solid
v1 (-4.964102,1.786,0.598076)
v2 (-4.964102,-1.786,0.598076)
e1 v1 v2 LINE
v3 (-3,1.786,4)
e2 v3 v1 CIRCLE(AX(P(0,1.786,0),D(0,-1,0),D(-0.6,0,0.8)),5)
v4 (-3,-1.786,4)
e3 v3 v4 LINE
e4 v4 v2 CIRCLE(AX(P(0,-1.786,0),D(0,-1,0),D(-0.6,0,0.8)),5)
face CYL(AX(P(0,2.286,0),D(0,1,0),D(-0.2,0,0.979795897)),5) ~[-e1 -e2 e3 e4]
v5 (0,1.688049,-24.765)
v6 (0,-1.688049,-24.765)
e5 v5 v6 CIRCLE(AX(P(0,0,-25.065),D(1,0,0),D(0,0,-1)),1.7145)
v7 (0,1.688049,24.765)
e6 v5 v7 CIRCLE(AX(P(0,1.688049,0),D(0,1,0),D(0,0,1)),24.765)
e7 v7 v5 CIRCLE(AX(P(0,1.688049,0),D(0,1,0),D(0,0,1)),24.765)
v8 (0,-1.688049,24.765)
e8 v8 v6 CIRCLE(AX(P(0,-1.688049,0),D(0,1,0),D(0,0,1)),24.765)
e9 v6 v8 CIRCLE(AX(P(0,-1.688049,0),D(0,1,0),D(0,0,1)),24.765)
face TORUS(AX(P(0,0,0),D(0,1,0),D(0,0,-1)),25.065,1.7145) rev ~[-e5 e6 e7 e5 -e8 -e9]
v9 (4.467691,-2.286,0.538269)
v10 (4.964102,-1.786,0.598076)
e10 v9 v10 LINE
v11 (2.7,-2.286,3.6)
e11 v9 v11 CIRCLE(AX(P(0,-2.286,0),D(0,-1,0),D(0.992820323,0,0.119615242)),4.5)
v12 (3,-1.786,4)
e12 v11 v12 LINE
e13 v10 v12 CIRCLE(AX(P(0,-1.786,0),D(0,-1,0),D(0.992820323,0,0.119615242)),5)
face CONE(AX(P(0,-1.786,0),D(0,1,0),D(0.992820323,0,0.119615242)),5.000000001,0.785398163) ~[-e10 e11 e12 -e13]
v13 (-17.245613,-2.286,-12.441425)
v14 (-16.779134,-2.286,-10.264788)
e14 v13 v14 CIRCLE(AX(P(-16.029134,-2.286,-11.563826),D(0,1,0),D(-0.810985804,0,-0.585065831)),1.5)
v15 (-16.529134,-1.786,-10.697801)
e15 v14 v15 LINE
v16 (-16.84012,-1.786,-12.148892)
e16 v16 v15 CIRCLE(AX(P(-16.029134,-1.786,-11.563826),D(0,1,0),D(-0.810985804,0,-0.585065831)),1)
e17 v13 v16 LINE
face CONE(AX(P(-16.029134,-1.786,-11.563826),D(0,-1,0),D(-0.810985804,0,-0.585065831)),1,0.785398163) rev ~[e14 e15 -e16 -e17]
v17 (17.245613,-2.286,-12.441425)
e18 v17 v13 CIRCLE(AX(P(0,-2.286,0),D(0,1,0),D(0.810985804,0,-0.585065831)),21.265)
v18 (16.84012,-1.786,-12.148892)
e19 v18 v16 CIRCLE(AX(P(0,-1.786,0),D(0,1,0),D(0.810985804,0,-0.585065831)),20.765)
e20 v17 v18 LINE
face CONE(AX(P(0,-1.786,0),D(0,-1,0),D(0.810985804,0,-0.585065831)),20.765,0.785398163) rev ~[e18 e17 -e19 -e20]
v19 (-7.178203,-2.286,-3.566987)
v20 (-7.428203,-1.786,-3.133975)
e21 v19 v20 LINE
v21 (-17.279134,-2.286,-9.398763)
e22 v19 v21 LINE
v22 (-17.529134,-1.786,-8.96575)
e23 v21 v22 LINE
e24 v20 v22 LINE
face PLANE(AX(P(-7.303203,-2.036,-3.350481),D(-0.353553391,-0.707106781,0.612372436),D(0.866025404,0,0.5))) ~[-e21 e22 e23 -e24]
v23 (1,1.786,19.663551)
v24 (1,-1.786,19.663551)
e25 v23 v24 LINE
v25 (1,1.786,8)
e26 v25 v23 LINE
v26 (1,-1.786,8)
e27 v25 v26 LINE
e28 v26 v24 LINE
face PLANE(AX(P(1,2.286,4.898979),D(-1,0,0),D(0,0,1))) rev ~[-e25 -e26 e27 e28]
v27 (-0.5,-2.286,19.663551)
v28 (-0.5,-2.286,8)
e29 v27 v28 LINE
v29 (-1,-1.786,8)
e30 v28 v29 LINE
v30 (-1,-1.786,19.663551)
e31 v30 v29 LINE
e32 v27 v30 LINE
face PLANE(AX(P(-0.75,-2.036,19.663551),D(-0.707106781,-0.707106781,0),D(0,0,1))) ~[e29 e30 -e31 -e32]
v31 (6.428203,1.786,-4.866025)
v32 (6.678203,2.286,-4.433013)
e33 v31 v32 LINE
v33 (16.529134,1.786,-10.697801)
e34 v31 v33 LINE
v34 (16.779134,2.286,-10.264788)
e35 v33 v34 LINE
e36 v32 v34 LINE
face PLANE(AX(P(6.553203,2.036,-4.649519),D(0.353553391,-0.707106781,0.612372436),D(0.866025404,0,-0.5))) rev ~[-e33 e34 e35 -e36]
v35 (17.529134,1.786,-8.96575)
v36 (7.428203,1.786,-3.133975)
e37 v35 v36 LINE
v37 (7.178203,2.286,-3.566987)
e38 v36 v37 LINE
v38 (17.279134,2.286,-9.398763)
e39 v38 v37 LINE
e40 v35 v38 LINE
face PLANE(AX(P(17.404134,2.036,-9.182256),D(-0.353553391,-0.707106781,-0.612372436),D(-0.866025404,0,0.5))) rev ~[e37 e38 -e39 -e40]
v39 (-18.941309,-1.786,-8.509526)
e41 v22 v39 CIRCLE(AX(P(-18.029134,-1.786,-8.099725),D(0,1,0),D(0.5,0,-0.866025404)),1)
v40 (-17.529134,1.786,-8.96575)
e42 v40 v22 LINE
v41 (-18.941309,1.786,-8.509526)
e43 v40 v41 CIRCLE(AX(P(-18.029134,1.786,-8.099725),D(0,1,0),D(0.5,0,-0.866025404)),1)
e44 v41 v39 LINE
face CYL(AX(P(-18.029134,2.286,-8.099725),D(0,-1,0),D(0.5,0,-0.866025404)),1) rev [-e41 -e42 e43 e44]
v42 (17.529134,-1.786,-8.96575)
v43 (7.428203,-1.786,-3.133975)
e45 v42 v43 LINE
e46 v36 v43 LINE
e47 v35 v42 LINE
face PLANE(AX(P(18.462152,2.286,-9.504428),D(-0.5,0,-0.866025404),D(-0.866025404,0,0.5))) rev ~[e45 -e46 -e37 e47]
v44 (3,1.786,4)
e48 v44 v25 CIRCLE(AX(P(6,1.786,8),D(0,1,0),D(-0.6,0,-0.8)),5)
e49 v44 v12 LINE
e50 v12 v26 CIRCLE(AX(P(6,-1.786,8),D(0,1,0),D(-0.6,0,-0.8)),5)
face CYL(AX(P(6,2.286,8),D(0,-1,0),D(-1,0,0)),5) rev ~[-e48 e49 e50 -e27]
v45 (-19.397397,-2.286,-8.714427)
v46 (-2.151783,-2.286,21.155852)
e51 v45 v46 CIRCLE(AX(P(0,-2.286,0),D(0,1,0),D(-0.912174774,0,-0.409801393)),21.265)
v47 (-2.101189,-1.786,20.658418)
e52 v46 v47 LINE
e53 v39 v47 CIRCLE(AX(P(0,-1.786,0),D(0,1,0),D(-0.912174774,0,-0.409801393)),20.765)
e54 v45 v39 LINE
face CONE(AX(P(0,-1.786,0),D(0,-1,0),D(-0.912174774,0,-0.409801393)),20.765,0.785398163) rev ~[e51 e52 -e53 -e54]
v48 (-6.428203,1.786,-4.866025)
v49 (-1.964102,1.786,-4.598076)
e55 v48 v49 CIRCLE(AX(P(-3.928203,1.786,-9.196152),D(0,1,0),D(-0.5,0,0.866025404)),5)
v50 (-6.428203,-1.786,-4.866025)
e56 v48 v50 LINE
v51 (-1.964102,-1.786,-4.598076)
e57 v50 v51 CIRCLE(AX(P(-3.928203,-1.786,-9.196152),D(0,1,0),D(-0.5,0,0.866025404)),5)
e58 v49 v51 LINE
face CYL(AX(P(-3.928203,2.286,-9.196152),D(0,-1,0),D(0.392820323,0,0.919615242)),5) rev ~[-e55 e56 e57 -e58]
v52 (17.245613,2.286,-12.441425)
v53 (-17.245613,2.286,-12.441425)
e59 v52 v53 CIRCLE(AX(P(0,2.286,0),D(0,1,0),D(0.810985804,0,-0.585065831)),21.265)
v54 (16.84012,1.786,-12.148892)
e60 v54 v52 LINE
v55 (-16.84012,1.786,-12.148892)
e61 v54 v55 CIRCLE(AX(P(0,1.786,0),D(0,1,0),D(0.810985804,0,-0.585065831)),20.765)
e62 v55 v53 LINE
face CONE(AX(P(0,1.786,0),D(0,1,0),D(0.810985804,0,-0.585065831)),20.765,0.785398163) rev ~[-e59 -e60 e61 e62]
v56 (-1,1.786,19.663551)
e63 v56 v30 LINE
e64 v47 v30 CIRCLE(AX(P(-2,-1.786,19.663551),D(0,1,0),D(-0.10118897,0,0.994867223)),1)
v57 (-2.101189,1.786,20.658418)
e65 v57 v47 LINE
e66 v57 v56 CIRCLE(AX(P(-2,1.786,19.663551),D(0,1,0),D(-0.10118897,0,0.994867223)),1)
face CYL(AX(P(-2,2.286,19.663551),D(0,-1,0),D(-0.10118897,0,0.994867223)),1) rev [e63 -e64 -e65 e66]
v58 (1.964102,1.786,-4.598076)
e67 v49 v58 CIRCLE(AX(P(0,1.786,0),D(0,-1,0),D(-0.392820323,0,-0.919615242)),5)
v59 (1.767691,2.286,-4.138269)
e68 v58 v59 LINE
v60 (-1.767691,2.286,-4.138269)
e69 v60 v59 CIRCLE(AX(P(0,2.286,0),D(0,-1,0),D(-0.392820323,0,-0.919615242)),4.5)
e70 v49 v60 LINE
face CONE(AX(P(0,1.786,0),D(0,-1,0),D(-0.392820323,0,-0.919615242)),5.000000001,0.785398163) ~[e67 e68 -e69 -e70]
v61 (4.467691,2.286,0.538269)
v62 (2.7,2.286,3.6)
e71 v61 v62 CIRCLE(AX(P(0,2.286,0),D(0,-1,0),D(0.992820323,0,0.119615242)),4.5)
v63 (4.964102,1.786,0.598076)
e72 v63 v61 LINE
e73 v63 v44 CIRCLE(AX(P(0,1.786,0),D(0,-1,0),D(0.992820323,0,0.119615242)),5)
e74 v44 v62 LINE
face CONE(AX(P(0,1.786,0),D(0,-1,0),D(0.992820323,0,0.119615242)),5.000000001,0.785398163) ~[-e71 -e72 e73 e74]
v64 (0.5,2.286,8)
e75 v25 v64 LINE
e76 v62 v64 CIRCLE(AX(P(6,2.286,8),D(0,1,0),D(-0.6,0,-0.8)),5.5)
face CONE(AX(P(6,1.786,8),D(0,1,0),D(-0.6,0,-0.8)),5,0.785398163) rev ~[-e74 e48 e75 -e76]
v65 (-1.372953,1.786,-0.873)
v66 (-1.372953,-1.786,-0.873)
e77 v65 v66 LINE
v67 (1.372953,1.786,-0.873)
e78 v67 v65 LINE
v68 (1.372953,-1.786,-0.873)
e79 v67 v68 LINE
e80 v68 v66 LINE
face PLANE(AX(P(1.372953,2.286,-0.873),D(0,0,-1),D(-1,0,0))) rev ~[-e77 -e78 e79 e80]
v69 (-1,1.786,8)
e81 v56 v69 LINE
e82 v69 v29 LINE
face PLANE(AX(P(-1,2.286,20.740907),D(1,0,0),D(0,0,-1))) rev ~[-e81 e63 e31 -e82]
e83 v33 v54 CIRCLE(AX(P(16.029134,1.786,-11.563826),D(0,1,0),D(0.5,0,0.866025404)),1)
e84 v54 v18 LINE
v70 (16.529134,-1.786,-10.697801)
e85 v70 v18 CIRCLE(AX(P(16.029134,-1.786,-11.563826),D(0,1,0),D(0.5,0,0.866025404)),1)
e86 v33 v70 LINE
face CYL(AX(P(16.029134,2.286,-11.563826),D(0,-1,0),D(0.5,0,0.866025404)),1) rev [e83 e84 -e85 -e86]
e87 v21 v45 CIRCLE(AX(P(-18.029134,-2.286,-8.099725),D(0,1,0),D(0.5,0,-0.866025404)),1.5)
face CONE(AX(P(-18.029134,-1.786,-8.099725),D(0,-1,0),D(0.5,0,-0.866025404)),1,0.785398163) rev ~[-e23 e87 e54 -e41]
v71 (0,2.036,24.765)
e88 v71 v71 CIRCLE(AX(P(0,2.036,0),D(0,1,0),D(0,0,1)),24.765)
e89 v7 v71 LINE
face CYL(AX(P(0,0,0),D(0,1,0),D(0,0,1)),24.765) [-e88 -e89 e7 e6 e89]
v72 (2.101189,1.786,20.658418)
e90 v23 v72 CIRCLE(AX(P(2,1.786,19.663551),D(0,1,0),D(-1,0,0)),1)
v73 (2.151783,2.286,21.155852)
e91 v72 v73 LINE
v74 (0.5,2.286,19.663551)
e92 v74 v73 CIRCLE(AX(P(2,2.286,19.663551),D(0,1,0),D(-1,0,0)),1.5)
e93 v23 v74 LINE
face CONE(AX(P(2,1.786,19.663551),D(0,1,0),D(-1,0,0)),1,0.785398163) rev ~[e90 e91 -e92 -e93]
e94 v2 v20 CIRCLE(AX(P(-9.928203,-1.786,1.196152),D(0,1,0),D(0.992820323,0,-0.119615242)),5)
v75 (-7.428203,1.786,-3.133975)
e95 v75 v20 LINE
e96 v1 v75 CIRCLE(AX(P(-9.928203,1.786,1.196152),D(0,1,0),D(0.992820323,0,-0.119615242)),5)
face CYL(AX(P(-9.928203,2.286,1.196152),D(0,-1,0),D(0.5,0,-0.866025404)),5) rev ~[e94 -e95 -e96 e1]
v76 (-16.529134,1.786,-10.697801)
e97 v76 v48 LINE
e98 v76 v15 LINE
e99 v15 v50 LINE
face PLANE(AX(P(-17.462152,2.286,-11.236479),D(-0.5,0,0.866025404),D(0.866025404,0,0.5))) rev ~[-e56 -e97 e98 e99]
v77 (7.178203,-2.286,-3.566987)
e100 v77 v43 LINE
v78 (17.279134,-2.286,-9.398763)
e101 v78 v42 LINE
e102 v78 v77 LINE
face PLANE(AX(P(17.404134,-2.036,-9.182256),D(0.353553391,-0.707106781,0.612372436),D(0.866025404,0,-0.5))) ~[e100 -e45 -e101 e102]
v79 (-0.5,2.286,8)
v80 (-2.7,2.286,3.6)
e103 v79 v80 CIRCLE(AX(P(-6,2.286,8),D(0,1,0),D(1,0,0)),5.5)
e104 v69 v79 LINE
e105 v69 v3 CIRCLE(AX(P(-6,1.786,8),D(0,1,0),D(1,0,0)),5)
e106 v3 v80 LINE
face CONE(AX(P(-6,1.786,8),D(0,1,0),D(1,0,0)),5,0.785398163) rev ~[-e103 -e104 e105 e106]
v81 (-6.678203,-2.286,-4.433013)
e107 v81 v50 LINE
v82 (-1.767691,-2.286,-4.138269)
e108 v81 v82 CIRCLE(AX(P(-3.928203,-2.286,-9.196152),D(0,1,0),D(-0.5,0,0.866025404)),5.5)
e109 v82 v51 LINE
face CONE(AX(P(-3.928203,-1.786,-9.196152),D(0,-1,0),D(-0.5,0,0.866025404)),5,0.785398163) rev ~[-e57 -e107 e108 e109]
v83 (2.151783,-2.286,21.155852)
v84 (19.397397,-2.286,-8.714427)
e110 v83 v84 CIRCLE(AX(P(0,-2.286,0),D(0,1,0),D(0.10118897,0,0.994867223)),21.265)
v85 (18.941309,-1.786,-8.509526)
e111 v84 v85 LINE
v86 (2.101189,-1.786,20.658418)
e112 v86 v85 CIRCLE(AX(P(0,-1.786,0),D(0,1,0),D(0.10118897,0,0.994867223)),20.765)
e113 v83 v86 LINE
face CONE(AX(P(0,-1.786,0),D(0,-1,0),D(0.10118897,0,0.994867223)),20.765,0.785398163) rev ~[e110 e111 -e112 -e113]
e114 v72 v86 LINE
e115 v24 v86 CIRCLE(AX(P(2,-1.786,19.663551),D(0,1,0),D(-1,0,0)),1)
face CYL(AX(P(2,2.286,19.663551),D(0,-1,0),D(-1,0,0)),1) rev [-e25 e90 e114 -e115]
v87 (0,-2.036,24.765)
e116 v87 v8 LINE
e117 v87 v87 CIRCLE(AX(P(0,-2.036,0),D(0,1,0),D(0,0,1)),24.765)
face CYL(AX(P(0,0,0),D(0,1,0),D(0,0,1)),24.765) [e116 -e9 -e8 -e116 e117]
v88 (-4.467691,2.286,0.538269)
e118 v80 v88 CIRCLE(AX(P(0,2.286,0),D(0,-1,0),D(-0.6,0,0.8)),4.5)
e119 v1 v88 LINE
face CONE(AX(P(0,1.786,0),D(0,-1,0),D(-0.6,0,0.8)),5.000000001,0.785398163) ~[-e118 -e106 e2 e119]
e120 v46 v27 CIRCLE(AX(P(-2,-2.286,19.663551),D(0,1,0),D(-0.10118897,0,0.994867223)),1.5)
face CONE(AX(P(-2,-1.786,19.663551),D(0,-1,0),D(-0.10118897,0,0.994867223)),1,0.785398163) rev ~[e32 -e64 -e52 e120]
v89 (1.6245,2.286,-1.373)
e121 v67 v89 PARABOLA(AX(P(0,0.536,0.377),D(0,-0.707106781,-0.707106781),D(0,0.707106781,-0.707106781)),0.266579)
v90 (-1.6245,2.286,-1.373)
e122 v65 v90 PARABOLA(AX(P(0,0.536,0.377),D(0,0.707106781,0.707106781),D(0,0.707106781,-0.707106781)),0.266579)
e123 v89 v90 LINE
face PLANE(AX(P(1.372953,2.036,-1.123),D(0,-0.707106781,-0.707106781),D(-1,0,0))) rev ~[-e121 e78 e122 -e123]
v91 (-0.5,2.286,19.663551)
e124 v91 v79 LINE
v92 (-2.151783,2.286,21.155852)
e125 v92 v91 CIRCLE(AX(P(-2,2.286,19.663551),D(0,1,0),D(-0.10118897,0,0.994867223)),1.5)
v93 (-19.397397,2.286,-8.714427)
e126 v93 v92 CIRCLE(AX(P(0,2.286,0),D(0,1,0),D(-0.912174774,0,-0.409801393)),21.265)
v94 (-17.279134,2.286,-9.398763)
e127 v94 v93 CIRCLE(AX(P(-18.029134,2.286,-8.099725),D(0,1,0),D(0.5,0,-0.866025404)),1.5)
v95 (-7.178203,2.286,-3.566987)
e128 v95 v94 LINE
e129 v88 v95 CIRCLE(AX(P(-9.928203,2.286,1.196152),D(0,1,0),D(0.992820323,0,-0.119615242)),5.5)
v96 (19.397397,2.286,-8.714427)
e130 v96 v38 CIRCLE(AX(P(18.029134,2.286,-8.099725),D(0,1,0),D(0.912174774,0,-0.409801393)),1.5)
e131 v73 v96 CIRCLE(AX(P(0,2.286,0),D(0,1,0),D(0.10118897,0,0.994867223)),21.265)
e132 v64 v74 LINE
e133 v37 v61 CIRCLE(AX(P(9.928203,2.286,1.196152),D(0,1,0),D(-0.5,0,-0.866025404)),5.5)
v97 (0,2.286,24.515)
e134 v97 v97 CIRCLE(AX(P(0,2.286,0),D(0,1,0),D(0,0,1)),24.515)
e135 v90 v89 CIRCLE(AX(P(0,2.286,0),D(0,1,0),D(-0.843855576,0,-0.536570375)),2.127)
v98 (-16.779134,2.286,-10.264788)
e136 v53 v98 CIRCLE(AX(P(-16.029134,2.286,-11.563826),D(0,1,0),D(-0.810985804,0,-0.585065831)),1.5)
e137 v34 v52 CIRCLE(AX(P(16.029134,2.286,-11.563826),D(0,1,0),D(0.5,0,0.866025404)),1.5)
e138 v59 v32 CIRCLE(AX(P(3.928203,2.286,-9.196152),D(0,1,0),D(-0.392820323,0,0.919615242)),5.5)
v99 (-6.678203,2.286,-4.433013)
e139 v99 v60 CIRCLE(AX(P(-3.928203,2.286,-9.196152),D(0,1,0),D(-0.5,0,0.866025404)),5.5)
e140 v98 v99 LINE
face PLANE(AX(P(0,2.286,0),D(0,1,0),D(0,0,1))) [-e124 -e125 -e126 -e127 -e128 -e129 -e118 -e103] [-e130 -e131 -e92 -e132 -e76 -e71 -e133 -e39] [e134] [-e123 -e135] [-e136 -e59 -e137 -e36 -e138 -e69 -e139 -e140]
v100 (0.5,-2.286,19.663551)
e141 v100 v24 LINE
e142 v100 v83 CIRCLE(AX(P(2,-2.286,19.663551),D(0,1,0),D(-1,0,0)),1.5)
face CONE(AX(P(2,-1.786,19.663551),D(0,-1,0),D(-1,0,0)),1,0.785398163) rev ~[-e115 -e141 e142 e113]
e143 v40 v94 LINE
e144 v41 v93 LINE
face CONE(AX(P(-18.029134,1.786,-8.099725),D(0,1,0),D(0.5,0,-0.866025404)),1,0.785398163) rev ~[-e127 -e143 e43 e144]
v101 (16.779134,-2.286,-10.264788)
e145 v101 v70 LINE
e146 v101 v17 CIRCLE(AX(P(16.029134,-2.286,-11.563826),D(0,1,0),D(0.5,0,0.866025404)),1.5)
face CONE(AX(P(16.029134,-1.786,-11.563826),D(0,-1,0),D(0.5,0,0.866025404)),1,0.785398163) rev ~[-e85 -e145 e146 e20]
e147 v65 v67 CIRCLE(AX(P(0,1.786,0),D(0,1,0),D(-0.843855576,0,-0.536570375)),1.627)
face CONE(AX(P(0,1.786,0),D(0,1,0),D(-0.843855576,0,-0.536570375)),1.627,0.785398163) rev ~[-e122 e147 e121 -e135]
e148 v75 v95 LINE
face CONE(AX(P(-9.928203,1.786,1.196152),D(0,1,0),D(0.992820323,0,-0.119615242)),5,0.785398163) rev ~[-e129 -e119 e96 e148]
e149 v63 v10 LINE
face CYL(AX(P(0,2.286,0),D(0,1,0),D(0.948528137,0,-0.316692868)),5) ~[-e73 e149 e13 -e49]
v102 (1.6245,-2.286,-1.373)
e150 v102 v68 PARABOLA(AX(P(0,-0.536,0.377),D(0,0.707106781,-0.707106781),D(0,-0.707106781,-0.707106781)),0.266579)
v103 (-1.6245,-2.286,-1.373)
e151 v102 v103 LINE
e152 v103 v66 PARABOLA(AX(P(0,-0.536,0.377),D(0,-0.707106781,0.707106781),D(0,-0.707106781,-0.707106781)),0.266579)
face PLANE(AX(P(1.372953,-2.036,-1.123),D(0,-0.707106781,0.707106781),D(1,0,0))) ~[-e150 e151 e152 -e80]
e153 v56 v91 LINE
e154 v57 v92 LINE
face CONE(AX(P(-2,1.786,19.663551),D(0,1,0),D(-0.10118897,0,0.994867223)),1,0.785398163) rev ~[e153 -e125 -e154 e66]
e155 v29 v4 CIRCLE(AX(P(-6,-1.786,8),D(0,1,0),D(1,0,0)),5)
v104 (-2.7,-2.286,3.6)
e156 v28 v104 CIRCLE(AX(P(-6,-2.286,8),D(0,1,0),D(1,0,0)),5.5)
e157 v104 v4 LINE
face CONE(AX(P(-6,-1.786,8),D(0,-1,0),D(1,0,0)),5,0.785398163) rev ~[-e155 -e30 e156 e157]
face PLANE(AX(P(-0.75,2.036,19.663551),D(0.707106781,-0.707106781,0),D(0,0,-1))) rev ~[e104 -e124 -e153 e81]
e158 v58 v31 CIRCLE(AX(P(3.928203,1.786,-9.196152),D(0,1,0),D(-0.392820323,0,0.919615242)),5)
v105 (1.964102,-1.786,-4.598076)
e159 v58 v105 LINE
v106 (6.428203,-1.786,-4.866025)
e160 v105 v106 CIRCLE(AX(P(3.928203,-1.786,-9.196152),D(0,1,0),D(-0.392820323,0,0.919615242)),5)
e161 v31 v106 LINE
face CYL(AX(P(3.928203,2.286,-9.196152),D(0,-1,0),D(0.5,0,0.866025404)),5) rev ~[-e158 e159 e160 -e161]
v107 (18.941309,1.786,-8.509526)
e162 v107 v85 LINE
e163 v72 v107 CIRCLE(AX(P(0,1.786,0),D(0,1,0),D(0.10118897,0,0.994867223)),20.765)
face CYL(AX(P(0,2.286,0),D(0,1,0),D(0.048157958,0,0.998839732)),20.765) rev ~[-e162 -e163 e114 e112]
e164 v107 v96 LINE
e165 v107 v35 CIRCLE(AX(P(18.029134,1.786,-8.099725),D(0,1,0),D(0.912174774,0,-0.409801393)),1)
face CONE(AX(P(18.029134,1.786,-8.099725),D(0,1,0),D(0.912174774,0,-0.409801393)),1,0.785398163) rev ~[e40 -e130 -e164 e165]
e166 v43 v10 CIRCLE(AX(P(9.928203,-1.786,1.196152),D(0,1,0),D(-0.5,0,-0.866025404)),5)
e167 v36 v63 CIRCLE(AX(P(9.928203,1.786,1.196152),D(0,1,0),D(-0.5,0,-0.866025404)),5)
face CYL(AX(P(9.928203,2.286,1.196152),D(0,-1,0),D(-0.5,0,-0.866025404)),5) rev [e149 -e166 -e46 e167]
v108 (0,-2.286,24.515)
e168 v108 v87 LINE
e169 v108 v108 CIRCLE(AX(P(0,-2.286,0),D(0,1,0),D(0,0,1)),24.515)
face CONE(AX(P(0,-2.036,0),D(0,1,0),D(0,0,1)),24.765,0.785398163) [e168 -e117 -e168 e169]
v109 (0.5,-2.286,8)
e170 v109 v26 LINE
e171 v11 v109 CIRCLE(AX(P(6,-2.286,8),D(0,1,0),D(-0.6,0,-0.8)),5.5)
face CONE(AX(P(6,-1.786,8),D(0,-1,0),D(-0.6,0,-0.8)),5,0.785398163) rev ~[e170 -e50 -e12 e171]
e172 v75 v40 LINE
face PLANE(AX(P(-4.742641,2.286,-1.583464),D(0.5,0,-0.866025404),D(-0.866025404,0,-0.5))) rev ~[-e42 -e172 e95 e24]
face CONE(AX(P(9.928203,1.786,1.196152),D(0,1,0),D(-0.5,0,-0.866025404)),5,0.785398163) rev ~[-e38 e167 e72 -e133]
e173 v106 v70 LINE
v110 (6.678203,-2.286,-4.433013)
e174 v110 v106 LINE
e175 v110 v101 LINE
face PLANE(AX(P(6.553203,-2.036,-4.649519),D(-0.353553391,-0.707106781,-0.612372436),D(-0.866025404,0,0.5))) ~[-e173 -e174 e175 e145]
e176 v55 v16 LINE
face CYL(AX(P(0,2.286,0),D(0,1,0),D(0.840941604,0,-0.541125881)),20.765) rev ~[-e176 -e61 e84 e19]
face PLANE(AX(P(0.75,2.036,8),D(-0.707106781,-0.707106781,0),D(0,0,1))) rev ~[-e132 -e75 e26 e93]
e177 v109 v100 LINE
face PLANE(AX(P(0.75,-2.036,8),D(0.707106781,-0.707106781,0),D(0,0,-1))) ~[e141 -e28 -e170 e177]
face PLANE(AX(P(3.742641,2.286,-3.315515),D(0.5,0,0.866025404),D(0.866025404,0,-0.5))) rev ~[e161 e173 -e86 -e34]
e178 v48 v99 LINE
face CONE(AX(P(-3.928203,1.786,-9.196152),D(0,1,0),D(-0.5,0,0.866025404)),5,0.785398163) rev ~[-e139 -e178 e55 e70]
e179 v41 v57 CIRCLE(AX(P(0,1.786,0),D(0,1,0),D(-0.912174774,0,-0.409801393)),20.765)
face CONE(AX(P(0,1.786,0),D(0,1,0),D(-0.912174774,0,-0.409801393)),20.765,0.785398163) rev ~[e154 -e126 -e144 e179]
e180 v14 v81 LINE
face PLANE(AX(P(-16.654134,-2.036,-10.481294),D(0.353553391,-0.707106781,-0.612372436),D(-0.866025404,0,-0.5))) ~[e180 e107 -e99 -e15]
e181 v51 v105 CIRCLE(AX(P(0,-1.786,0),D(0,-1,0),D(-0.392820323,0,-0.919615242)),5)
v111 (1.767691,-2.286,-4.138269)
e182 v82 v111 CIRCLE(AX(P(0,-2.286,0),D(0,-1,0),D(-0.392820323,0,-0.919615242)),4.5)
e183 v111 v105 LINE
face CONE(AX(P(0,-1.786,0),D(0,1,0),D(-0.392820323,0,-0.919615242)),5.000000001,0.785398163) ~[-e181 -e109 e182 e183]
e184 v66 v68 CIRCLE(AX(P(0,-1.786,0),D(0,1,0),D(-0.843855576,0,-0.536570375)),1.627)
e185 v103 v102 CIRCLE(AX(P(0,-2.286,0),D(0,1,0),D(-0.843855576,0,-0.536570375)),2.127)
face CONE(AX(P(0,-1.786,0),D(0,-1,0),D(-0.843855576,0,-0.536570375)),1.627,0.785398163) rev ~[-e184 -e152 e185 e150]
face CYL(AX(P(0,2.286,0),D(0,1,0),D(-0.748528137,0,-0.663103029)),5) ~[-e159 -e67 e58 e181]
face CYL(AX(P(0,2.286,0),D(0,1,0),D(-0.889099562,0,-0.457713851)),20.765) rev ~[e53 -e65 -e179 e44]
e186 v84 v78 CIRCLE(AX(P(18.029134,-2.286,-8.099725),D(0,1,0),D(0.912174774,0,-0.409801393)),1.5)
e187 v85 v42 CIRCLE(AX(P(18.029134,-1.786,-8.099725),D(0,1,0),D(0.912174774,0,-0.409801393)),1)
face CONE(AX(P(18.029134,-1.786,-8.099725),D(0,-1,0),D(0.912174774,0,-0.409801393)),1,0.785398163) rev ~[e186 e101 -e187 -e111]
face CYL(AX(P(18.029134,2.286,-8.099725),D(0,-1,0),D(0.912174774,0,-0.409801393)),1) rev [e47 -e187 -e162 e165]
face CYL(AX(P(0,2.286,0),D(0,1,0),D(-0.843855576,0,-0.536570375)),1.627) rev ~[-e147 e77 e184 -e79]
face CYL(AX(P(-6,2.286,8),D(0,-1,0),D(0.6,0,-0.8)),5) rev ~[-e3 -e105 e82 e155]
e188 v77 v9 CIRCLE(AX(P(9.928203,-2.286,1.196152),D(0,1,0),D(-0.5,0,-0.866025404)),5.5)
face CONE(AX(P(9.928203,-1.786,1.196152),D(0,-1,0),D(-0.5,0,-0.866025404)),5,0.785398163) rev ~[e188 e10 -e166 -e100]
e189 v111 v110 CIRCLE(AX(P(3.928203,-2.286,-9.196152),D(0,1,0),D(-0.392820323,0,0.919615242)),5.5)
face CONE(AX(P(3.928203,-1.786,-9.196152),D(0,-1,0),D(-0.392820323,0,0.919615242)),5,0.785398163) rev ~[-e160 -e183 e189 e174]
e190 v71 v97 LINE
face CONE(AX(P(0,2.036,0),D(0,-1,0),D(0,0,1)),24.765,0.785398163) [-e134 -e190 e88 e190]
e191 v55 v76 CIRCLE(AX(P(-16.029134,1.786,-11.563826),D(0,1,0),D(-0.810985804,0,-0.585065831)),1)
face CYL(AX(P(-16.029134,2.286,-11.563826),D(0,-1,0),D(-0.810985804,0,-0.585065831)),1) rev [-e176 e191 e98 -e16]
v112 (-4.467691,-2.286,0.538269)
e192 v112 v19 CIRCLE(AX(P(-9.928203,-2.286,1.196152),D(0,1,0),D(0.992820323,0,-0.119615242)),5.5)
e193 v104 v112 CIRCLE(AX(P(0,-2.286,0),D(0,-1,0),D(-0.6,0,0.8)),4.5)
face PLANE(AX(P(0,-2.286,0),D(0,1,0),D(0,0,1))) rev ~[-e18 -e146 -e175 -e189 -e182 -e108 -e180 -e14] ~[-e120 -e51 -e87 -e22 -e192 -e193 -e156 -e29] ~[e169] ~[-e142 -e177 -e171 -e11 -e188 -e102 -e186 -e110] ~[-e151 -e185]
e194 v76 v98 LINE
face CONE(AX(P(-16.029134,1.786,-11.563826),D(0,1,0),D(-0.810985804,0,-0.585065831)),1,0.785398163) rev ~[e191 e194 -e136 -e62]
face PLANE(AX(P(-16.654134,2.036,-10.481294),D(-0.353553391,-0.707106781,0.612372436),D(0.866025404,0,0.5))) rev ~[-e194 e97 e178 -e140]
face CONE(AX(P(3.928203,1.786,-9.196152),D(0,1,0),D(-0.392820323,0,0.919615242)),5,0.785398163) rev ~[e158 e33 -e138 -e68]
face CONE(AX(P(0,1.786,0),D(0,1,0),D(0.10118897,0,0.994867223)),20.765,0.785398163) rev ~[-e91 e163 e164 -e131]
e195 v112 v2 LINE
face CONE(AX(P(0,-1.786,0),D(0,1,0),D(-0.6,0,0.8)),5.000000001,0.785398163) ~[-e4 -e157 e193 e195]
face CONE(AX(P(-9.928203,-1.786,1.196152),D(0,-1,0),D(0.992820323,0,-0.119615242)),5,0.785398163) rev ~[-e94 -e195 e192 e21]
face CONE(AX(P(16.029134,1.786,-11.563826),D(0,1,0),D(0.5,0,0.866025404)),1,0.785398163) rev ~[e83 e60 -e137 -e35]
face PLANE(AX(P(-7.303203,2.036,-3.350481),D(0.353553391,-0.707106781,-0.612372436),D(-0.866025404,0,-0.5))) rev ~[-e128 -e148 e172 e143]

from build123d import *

# Parameters (mm, degrees)
SKETCH1_R           = 24.765
BOSS_EXTRUDE1_DEPTH = 2.286
SKETCH2_R           = 1.7145
CUT_EXTRUDE1_DEPTH  = 36.320159031
CUT_EXTRUDE2_DEPTH  = 36.320159031
CIRPATTERN1_COUNT   = 3
FILLET1_R           = 5
FILLET4_R           = 1
CHAMFER1_SIZE       = 0.5
CHAMFER2_SIZE       = 0.5
CHAMFER3_SIZE       = 0.25


with BuildPart() as part:
    # Sketch1 → Boss-Extrude1 (new, symmetric)
    with BuildSketch(Plane(origin=(0, 0, 0), x_dir=(1, 0, 0), z_dir=(0, 1, 0))):
        with Locations(Location((0, 0, 0), (0, 0, 270))):
            Circle(SKETCH1_R)
    extrude(amount=BOSS_EXTRUDE1_DEPTH, both=True)

    # Sketch2 → Cut-Revolve1 (revolve, cut)
    with BuildSketch(Plane(origin=(0, 0, 0), x_dir=(0, 0, -1), z_dir=(1, 0, 0))):
        with Locations((25.065, 0)):
            Circle(SKETCH2_R)
    revolve(axis=Axis((0, 0, 0), (0, 1, 0)), mode=Mode.SUBTRACT)

    # Sketch3 → Cut-Extrude1 (cut, through all)
    with BuildSketch(Plane(origin=(0, 2.286, 0), x_dir=(1, 0, 0), z_dir=(0, 1, 0))):
        with BuildLine():
            Line((1.372953022, 0.873), (-1.372953022, 0.873))
            ThreePointArc((-1.372953022, 0.873), (0, -1.627), (1.372953022, 0.873))
        make_face()
    extrude(amount=-CUT_EXTRUDE1_DEPTH, mode=Mode.SUBTRACT)

    # Sketch4 → Cut-Extrude2 (cut, through all)
    with BuildSketch(Plane(origin=(0, 2.286, 0), x_dir=(1, 0, 0), z_dir=(0, 1, 0))):
        with BuildLine():
            Line((3.742640687, 3.315515147), (17.462152397, 11.236478926))
            ThreePointArc((17.462152397, 11.236478926), (0, 20.765), (-17.462152397, 11.236478926))
            Line((-17.462152397, 11.236478926), (-3.742640687, 3.315515147))
            ThreePointArc((-3.742640687, 3.315515147), (0, 5), (3.742640687, 3.315515147))
        make_face()
    cut_extrude2 = extrude(amount=-CUT_EXTRUDE2_DEPTH, mode=Mode.SUBTRACT)

    # CirPattern1: Cut-Extrude2 ×3 about axis
    cirpattern1_axis = Axis((0, 0, 0), (0, 1, 0))
    for i in range(1, CIRPATTERN1_COUNT):
        add(cut_extrude2.rotate(cirpattern1_axis, i * 360 / CIRPATTERN1_COUNT), mode=Mode.SUBTRACT)

    # Fillet1
    fillet1_edges = [part.edges().sort_by_distance(p)[0] for p in [
        (3.742640687, 0, -3.315515147),
        (-3.742640687, 0, -3.315515147),
        (1, 0, 4.898979486),
        (4.742640687, 0, -1.583464339),
        (-4.742640687, 0, -1.583464339),
        (-1, 0, 4.898979486),
    ]]
    fillet(fillet1_edges, radius=FILLET1_R)

    # Fillet4
    fillet4_edges = [part.edges().sort_by_distance(p)[0] for p in [
        (-17.462152397, 0, -11.236478926),
        (17.462152397, 0, -11.236478926),
        (18.462152397, 0, -9.504428118),
        (1, 0, 20.740907044),
        (-1, 0, 20.740907044),
        (-18.462152397, 0, -9.504428118),
    ]]
    fillet(fillet4_edges, radius=FILLET4_R)

    # Chamfer1
    chamfer1_edges = [part.edges().sort_by_distance(p)[0] for p in [
        (0, -2.286, -0.873),
        (0, -2.286, 1.627),
        (0, 2.286, -0.873),
        (0, 2.286, 1.627),
    ]]
    chamfer(chamfer1_edges, length=CHAMFER1_SIZE)

    # Chamfer2
    chamfer2_edges = [part.edges().sort_by_distance(p)[0] for p in [
        (12.47866882, 2.286, -6.049862264),
        (12.47866882, -2.286, -6.049862264),
        (17.98301751, 2.286, 10.3825),
        (17.98301751, -2.286, 10.3825),
        (-17.98301751, 2.286, 10.3825),
        (-17.98301751, -2.286, 10.3825),
        (-11.47866882, 2.286, -7.781913072),
        (-11.47866882, -2.286, -7.781913072),
        (-1, 2.286, 13.831775336),
        (-1, -2.286, 13.831775336),
        (17.006931622, 2.286, -11.354272778),
        (17.006931622, -2.286, -11.354272778),
        (18.336554478, 2.286, -9.051298436),
        (18.336554478, -2.286, -9.051298436),
        (-18.336554478, 2.286, -9.051298436),
        (-18.336554478, -2.286, -9.051298436),
        (-17.006931622, 2.286, -11.354272778),
        (-17.006931622, -2.286, -11.354272778),
        (1.329622856, 2.286, 20.405571214),
        (1.329622856, -2.286, 20.405571214),
        (-1.329622856, 2.286, 20.405571214),
        (-1.329622856, -2.286, 20.405571214),
        (11.47866882, 2.286, -7.781913072),
        (11.47866882, -2.286, -7.781913072),
        (0, 2.286, -5),
        (0, -2.286, -5),
        (4.330127019, 2.286, 2.5),
        (4.330127019, -2.286, 2.5),
        (1, 2.286, 13.831775336),
        (1, -2.286, 13.831775336),
        (-4.330127019, 2.286, 2.5),
        (-4.330127019, -2.286, 2.5),
        (-12.47866882, 2.286, -6.049862264),
        (-12.47866882, -2.286, -6.049862264),
        (4.227779535, 2.286, -4.205135088),
        (4.227779535, -2.286, -4.205135088),
        (-4.227779535, 2.286, -4.205135088),
        (-4.227779535, -2.286, -4.205135088),
        (5.75564358, 2.286, -1.558796935),
        (5.75564358, -2.286, -1.558796935),
        (1.527864045, 2.286, 5.763932023),
        (1.527864045, -2.286, 5.763932023),
        (-1.527864045, 2.286, 5.763932023),
        (-1.527864045, -2.286, 5.763932023),
        (-5.75564358, 2.286, -1.558796935),
        (-5.75564358, -2.286, -1.558796935),
        (0, 2.286, -20.765),
        (0, -2.286, -20.765),
    ]]
    chamfer(chamfer2_edges, length=CHAMFER2_SIZE)

    # Chamfer3
    chamfer3_edges = [part.edges().sort_by_distance(p)[0] for p in [
        (0, -2.286, -24.765),
        (0, 2.286, -24.765),
    ]]
    chamfer(chamfer3_edges, length=CHAMFER3_SIZE)


solid = part.part
